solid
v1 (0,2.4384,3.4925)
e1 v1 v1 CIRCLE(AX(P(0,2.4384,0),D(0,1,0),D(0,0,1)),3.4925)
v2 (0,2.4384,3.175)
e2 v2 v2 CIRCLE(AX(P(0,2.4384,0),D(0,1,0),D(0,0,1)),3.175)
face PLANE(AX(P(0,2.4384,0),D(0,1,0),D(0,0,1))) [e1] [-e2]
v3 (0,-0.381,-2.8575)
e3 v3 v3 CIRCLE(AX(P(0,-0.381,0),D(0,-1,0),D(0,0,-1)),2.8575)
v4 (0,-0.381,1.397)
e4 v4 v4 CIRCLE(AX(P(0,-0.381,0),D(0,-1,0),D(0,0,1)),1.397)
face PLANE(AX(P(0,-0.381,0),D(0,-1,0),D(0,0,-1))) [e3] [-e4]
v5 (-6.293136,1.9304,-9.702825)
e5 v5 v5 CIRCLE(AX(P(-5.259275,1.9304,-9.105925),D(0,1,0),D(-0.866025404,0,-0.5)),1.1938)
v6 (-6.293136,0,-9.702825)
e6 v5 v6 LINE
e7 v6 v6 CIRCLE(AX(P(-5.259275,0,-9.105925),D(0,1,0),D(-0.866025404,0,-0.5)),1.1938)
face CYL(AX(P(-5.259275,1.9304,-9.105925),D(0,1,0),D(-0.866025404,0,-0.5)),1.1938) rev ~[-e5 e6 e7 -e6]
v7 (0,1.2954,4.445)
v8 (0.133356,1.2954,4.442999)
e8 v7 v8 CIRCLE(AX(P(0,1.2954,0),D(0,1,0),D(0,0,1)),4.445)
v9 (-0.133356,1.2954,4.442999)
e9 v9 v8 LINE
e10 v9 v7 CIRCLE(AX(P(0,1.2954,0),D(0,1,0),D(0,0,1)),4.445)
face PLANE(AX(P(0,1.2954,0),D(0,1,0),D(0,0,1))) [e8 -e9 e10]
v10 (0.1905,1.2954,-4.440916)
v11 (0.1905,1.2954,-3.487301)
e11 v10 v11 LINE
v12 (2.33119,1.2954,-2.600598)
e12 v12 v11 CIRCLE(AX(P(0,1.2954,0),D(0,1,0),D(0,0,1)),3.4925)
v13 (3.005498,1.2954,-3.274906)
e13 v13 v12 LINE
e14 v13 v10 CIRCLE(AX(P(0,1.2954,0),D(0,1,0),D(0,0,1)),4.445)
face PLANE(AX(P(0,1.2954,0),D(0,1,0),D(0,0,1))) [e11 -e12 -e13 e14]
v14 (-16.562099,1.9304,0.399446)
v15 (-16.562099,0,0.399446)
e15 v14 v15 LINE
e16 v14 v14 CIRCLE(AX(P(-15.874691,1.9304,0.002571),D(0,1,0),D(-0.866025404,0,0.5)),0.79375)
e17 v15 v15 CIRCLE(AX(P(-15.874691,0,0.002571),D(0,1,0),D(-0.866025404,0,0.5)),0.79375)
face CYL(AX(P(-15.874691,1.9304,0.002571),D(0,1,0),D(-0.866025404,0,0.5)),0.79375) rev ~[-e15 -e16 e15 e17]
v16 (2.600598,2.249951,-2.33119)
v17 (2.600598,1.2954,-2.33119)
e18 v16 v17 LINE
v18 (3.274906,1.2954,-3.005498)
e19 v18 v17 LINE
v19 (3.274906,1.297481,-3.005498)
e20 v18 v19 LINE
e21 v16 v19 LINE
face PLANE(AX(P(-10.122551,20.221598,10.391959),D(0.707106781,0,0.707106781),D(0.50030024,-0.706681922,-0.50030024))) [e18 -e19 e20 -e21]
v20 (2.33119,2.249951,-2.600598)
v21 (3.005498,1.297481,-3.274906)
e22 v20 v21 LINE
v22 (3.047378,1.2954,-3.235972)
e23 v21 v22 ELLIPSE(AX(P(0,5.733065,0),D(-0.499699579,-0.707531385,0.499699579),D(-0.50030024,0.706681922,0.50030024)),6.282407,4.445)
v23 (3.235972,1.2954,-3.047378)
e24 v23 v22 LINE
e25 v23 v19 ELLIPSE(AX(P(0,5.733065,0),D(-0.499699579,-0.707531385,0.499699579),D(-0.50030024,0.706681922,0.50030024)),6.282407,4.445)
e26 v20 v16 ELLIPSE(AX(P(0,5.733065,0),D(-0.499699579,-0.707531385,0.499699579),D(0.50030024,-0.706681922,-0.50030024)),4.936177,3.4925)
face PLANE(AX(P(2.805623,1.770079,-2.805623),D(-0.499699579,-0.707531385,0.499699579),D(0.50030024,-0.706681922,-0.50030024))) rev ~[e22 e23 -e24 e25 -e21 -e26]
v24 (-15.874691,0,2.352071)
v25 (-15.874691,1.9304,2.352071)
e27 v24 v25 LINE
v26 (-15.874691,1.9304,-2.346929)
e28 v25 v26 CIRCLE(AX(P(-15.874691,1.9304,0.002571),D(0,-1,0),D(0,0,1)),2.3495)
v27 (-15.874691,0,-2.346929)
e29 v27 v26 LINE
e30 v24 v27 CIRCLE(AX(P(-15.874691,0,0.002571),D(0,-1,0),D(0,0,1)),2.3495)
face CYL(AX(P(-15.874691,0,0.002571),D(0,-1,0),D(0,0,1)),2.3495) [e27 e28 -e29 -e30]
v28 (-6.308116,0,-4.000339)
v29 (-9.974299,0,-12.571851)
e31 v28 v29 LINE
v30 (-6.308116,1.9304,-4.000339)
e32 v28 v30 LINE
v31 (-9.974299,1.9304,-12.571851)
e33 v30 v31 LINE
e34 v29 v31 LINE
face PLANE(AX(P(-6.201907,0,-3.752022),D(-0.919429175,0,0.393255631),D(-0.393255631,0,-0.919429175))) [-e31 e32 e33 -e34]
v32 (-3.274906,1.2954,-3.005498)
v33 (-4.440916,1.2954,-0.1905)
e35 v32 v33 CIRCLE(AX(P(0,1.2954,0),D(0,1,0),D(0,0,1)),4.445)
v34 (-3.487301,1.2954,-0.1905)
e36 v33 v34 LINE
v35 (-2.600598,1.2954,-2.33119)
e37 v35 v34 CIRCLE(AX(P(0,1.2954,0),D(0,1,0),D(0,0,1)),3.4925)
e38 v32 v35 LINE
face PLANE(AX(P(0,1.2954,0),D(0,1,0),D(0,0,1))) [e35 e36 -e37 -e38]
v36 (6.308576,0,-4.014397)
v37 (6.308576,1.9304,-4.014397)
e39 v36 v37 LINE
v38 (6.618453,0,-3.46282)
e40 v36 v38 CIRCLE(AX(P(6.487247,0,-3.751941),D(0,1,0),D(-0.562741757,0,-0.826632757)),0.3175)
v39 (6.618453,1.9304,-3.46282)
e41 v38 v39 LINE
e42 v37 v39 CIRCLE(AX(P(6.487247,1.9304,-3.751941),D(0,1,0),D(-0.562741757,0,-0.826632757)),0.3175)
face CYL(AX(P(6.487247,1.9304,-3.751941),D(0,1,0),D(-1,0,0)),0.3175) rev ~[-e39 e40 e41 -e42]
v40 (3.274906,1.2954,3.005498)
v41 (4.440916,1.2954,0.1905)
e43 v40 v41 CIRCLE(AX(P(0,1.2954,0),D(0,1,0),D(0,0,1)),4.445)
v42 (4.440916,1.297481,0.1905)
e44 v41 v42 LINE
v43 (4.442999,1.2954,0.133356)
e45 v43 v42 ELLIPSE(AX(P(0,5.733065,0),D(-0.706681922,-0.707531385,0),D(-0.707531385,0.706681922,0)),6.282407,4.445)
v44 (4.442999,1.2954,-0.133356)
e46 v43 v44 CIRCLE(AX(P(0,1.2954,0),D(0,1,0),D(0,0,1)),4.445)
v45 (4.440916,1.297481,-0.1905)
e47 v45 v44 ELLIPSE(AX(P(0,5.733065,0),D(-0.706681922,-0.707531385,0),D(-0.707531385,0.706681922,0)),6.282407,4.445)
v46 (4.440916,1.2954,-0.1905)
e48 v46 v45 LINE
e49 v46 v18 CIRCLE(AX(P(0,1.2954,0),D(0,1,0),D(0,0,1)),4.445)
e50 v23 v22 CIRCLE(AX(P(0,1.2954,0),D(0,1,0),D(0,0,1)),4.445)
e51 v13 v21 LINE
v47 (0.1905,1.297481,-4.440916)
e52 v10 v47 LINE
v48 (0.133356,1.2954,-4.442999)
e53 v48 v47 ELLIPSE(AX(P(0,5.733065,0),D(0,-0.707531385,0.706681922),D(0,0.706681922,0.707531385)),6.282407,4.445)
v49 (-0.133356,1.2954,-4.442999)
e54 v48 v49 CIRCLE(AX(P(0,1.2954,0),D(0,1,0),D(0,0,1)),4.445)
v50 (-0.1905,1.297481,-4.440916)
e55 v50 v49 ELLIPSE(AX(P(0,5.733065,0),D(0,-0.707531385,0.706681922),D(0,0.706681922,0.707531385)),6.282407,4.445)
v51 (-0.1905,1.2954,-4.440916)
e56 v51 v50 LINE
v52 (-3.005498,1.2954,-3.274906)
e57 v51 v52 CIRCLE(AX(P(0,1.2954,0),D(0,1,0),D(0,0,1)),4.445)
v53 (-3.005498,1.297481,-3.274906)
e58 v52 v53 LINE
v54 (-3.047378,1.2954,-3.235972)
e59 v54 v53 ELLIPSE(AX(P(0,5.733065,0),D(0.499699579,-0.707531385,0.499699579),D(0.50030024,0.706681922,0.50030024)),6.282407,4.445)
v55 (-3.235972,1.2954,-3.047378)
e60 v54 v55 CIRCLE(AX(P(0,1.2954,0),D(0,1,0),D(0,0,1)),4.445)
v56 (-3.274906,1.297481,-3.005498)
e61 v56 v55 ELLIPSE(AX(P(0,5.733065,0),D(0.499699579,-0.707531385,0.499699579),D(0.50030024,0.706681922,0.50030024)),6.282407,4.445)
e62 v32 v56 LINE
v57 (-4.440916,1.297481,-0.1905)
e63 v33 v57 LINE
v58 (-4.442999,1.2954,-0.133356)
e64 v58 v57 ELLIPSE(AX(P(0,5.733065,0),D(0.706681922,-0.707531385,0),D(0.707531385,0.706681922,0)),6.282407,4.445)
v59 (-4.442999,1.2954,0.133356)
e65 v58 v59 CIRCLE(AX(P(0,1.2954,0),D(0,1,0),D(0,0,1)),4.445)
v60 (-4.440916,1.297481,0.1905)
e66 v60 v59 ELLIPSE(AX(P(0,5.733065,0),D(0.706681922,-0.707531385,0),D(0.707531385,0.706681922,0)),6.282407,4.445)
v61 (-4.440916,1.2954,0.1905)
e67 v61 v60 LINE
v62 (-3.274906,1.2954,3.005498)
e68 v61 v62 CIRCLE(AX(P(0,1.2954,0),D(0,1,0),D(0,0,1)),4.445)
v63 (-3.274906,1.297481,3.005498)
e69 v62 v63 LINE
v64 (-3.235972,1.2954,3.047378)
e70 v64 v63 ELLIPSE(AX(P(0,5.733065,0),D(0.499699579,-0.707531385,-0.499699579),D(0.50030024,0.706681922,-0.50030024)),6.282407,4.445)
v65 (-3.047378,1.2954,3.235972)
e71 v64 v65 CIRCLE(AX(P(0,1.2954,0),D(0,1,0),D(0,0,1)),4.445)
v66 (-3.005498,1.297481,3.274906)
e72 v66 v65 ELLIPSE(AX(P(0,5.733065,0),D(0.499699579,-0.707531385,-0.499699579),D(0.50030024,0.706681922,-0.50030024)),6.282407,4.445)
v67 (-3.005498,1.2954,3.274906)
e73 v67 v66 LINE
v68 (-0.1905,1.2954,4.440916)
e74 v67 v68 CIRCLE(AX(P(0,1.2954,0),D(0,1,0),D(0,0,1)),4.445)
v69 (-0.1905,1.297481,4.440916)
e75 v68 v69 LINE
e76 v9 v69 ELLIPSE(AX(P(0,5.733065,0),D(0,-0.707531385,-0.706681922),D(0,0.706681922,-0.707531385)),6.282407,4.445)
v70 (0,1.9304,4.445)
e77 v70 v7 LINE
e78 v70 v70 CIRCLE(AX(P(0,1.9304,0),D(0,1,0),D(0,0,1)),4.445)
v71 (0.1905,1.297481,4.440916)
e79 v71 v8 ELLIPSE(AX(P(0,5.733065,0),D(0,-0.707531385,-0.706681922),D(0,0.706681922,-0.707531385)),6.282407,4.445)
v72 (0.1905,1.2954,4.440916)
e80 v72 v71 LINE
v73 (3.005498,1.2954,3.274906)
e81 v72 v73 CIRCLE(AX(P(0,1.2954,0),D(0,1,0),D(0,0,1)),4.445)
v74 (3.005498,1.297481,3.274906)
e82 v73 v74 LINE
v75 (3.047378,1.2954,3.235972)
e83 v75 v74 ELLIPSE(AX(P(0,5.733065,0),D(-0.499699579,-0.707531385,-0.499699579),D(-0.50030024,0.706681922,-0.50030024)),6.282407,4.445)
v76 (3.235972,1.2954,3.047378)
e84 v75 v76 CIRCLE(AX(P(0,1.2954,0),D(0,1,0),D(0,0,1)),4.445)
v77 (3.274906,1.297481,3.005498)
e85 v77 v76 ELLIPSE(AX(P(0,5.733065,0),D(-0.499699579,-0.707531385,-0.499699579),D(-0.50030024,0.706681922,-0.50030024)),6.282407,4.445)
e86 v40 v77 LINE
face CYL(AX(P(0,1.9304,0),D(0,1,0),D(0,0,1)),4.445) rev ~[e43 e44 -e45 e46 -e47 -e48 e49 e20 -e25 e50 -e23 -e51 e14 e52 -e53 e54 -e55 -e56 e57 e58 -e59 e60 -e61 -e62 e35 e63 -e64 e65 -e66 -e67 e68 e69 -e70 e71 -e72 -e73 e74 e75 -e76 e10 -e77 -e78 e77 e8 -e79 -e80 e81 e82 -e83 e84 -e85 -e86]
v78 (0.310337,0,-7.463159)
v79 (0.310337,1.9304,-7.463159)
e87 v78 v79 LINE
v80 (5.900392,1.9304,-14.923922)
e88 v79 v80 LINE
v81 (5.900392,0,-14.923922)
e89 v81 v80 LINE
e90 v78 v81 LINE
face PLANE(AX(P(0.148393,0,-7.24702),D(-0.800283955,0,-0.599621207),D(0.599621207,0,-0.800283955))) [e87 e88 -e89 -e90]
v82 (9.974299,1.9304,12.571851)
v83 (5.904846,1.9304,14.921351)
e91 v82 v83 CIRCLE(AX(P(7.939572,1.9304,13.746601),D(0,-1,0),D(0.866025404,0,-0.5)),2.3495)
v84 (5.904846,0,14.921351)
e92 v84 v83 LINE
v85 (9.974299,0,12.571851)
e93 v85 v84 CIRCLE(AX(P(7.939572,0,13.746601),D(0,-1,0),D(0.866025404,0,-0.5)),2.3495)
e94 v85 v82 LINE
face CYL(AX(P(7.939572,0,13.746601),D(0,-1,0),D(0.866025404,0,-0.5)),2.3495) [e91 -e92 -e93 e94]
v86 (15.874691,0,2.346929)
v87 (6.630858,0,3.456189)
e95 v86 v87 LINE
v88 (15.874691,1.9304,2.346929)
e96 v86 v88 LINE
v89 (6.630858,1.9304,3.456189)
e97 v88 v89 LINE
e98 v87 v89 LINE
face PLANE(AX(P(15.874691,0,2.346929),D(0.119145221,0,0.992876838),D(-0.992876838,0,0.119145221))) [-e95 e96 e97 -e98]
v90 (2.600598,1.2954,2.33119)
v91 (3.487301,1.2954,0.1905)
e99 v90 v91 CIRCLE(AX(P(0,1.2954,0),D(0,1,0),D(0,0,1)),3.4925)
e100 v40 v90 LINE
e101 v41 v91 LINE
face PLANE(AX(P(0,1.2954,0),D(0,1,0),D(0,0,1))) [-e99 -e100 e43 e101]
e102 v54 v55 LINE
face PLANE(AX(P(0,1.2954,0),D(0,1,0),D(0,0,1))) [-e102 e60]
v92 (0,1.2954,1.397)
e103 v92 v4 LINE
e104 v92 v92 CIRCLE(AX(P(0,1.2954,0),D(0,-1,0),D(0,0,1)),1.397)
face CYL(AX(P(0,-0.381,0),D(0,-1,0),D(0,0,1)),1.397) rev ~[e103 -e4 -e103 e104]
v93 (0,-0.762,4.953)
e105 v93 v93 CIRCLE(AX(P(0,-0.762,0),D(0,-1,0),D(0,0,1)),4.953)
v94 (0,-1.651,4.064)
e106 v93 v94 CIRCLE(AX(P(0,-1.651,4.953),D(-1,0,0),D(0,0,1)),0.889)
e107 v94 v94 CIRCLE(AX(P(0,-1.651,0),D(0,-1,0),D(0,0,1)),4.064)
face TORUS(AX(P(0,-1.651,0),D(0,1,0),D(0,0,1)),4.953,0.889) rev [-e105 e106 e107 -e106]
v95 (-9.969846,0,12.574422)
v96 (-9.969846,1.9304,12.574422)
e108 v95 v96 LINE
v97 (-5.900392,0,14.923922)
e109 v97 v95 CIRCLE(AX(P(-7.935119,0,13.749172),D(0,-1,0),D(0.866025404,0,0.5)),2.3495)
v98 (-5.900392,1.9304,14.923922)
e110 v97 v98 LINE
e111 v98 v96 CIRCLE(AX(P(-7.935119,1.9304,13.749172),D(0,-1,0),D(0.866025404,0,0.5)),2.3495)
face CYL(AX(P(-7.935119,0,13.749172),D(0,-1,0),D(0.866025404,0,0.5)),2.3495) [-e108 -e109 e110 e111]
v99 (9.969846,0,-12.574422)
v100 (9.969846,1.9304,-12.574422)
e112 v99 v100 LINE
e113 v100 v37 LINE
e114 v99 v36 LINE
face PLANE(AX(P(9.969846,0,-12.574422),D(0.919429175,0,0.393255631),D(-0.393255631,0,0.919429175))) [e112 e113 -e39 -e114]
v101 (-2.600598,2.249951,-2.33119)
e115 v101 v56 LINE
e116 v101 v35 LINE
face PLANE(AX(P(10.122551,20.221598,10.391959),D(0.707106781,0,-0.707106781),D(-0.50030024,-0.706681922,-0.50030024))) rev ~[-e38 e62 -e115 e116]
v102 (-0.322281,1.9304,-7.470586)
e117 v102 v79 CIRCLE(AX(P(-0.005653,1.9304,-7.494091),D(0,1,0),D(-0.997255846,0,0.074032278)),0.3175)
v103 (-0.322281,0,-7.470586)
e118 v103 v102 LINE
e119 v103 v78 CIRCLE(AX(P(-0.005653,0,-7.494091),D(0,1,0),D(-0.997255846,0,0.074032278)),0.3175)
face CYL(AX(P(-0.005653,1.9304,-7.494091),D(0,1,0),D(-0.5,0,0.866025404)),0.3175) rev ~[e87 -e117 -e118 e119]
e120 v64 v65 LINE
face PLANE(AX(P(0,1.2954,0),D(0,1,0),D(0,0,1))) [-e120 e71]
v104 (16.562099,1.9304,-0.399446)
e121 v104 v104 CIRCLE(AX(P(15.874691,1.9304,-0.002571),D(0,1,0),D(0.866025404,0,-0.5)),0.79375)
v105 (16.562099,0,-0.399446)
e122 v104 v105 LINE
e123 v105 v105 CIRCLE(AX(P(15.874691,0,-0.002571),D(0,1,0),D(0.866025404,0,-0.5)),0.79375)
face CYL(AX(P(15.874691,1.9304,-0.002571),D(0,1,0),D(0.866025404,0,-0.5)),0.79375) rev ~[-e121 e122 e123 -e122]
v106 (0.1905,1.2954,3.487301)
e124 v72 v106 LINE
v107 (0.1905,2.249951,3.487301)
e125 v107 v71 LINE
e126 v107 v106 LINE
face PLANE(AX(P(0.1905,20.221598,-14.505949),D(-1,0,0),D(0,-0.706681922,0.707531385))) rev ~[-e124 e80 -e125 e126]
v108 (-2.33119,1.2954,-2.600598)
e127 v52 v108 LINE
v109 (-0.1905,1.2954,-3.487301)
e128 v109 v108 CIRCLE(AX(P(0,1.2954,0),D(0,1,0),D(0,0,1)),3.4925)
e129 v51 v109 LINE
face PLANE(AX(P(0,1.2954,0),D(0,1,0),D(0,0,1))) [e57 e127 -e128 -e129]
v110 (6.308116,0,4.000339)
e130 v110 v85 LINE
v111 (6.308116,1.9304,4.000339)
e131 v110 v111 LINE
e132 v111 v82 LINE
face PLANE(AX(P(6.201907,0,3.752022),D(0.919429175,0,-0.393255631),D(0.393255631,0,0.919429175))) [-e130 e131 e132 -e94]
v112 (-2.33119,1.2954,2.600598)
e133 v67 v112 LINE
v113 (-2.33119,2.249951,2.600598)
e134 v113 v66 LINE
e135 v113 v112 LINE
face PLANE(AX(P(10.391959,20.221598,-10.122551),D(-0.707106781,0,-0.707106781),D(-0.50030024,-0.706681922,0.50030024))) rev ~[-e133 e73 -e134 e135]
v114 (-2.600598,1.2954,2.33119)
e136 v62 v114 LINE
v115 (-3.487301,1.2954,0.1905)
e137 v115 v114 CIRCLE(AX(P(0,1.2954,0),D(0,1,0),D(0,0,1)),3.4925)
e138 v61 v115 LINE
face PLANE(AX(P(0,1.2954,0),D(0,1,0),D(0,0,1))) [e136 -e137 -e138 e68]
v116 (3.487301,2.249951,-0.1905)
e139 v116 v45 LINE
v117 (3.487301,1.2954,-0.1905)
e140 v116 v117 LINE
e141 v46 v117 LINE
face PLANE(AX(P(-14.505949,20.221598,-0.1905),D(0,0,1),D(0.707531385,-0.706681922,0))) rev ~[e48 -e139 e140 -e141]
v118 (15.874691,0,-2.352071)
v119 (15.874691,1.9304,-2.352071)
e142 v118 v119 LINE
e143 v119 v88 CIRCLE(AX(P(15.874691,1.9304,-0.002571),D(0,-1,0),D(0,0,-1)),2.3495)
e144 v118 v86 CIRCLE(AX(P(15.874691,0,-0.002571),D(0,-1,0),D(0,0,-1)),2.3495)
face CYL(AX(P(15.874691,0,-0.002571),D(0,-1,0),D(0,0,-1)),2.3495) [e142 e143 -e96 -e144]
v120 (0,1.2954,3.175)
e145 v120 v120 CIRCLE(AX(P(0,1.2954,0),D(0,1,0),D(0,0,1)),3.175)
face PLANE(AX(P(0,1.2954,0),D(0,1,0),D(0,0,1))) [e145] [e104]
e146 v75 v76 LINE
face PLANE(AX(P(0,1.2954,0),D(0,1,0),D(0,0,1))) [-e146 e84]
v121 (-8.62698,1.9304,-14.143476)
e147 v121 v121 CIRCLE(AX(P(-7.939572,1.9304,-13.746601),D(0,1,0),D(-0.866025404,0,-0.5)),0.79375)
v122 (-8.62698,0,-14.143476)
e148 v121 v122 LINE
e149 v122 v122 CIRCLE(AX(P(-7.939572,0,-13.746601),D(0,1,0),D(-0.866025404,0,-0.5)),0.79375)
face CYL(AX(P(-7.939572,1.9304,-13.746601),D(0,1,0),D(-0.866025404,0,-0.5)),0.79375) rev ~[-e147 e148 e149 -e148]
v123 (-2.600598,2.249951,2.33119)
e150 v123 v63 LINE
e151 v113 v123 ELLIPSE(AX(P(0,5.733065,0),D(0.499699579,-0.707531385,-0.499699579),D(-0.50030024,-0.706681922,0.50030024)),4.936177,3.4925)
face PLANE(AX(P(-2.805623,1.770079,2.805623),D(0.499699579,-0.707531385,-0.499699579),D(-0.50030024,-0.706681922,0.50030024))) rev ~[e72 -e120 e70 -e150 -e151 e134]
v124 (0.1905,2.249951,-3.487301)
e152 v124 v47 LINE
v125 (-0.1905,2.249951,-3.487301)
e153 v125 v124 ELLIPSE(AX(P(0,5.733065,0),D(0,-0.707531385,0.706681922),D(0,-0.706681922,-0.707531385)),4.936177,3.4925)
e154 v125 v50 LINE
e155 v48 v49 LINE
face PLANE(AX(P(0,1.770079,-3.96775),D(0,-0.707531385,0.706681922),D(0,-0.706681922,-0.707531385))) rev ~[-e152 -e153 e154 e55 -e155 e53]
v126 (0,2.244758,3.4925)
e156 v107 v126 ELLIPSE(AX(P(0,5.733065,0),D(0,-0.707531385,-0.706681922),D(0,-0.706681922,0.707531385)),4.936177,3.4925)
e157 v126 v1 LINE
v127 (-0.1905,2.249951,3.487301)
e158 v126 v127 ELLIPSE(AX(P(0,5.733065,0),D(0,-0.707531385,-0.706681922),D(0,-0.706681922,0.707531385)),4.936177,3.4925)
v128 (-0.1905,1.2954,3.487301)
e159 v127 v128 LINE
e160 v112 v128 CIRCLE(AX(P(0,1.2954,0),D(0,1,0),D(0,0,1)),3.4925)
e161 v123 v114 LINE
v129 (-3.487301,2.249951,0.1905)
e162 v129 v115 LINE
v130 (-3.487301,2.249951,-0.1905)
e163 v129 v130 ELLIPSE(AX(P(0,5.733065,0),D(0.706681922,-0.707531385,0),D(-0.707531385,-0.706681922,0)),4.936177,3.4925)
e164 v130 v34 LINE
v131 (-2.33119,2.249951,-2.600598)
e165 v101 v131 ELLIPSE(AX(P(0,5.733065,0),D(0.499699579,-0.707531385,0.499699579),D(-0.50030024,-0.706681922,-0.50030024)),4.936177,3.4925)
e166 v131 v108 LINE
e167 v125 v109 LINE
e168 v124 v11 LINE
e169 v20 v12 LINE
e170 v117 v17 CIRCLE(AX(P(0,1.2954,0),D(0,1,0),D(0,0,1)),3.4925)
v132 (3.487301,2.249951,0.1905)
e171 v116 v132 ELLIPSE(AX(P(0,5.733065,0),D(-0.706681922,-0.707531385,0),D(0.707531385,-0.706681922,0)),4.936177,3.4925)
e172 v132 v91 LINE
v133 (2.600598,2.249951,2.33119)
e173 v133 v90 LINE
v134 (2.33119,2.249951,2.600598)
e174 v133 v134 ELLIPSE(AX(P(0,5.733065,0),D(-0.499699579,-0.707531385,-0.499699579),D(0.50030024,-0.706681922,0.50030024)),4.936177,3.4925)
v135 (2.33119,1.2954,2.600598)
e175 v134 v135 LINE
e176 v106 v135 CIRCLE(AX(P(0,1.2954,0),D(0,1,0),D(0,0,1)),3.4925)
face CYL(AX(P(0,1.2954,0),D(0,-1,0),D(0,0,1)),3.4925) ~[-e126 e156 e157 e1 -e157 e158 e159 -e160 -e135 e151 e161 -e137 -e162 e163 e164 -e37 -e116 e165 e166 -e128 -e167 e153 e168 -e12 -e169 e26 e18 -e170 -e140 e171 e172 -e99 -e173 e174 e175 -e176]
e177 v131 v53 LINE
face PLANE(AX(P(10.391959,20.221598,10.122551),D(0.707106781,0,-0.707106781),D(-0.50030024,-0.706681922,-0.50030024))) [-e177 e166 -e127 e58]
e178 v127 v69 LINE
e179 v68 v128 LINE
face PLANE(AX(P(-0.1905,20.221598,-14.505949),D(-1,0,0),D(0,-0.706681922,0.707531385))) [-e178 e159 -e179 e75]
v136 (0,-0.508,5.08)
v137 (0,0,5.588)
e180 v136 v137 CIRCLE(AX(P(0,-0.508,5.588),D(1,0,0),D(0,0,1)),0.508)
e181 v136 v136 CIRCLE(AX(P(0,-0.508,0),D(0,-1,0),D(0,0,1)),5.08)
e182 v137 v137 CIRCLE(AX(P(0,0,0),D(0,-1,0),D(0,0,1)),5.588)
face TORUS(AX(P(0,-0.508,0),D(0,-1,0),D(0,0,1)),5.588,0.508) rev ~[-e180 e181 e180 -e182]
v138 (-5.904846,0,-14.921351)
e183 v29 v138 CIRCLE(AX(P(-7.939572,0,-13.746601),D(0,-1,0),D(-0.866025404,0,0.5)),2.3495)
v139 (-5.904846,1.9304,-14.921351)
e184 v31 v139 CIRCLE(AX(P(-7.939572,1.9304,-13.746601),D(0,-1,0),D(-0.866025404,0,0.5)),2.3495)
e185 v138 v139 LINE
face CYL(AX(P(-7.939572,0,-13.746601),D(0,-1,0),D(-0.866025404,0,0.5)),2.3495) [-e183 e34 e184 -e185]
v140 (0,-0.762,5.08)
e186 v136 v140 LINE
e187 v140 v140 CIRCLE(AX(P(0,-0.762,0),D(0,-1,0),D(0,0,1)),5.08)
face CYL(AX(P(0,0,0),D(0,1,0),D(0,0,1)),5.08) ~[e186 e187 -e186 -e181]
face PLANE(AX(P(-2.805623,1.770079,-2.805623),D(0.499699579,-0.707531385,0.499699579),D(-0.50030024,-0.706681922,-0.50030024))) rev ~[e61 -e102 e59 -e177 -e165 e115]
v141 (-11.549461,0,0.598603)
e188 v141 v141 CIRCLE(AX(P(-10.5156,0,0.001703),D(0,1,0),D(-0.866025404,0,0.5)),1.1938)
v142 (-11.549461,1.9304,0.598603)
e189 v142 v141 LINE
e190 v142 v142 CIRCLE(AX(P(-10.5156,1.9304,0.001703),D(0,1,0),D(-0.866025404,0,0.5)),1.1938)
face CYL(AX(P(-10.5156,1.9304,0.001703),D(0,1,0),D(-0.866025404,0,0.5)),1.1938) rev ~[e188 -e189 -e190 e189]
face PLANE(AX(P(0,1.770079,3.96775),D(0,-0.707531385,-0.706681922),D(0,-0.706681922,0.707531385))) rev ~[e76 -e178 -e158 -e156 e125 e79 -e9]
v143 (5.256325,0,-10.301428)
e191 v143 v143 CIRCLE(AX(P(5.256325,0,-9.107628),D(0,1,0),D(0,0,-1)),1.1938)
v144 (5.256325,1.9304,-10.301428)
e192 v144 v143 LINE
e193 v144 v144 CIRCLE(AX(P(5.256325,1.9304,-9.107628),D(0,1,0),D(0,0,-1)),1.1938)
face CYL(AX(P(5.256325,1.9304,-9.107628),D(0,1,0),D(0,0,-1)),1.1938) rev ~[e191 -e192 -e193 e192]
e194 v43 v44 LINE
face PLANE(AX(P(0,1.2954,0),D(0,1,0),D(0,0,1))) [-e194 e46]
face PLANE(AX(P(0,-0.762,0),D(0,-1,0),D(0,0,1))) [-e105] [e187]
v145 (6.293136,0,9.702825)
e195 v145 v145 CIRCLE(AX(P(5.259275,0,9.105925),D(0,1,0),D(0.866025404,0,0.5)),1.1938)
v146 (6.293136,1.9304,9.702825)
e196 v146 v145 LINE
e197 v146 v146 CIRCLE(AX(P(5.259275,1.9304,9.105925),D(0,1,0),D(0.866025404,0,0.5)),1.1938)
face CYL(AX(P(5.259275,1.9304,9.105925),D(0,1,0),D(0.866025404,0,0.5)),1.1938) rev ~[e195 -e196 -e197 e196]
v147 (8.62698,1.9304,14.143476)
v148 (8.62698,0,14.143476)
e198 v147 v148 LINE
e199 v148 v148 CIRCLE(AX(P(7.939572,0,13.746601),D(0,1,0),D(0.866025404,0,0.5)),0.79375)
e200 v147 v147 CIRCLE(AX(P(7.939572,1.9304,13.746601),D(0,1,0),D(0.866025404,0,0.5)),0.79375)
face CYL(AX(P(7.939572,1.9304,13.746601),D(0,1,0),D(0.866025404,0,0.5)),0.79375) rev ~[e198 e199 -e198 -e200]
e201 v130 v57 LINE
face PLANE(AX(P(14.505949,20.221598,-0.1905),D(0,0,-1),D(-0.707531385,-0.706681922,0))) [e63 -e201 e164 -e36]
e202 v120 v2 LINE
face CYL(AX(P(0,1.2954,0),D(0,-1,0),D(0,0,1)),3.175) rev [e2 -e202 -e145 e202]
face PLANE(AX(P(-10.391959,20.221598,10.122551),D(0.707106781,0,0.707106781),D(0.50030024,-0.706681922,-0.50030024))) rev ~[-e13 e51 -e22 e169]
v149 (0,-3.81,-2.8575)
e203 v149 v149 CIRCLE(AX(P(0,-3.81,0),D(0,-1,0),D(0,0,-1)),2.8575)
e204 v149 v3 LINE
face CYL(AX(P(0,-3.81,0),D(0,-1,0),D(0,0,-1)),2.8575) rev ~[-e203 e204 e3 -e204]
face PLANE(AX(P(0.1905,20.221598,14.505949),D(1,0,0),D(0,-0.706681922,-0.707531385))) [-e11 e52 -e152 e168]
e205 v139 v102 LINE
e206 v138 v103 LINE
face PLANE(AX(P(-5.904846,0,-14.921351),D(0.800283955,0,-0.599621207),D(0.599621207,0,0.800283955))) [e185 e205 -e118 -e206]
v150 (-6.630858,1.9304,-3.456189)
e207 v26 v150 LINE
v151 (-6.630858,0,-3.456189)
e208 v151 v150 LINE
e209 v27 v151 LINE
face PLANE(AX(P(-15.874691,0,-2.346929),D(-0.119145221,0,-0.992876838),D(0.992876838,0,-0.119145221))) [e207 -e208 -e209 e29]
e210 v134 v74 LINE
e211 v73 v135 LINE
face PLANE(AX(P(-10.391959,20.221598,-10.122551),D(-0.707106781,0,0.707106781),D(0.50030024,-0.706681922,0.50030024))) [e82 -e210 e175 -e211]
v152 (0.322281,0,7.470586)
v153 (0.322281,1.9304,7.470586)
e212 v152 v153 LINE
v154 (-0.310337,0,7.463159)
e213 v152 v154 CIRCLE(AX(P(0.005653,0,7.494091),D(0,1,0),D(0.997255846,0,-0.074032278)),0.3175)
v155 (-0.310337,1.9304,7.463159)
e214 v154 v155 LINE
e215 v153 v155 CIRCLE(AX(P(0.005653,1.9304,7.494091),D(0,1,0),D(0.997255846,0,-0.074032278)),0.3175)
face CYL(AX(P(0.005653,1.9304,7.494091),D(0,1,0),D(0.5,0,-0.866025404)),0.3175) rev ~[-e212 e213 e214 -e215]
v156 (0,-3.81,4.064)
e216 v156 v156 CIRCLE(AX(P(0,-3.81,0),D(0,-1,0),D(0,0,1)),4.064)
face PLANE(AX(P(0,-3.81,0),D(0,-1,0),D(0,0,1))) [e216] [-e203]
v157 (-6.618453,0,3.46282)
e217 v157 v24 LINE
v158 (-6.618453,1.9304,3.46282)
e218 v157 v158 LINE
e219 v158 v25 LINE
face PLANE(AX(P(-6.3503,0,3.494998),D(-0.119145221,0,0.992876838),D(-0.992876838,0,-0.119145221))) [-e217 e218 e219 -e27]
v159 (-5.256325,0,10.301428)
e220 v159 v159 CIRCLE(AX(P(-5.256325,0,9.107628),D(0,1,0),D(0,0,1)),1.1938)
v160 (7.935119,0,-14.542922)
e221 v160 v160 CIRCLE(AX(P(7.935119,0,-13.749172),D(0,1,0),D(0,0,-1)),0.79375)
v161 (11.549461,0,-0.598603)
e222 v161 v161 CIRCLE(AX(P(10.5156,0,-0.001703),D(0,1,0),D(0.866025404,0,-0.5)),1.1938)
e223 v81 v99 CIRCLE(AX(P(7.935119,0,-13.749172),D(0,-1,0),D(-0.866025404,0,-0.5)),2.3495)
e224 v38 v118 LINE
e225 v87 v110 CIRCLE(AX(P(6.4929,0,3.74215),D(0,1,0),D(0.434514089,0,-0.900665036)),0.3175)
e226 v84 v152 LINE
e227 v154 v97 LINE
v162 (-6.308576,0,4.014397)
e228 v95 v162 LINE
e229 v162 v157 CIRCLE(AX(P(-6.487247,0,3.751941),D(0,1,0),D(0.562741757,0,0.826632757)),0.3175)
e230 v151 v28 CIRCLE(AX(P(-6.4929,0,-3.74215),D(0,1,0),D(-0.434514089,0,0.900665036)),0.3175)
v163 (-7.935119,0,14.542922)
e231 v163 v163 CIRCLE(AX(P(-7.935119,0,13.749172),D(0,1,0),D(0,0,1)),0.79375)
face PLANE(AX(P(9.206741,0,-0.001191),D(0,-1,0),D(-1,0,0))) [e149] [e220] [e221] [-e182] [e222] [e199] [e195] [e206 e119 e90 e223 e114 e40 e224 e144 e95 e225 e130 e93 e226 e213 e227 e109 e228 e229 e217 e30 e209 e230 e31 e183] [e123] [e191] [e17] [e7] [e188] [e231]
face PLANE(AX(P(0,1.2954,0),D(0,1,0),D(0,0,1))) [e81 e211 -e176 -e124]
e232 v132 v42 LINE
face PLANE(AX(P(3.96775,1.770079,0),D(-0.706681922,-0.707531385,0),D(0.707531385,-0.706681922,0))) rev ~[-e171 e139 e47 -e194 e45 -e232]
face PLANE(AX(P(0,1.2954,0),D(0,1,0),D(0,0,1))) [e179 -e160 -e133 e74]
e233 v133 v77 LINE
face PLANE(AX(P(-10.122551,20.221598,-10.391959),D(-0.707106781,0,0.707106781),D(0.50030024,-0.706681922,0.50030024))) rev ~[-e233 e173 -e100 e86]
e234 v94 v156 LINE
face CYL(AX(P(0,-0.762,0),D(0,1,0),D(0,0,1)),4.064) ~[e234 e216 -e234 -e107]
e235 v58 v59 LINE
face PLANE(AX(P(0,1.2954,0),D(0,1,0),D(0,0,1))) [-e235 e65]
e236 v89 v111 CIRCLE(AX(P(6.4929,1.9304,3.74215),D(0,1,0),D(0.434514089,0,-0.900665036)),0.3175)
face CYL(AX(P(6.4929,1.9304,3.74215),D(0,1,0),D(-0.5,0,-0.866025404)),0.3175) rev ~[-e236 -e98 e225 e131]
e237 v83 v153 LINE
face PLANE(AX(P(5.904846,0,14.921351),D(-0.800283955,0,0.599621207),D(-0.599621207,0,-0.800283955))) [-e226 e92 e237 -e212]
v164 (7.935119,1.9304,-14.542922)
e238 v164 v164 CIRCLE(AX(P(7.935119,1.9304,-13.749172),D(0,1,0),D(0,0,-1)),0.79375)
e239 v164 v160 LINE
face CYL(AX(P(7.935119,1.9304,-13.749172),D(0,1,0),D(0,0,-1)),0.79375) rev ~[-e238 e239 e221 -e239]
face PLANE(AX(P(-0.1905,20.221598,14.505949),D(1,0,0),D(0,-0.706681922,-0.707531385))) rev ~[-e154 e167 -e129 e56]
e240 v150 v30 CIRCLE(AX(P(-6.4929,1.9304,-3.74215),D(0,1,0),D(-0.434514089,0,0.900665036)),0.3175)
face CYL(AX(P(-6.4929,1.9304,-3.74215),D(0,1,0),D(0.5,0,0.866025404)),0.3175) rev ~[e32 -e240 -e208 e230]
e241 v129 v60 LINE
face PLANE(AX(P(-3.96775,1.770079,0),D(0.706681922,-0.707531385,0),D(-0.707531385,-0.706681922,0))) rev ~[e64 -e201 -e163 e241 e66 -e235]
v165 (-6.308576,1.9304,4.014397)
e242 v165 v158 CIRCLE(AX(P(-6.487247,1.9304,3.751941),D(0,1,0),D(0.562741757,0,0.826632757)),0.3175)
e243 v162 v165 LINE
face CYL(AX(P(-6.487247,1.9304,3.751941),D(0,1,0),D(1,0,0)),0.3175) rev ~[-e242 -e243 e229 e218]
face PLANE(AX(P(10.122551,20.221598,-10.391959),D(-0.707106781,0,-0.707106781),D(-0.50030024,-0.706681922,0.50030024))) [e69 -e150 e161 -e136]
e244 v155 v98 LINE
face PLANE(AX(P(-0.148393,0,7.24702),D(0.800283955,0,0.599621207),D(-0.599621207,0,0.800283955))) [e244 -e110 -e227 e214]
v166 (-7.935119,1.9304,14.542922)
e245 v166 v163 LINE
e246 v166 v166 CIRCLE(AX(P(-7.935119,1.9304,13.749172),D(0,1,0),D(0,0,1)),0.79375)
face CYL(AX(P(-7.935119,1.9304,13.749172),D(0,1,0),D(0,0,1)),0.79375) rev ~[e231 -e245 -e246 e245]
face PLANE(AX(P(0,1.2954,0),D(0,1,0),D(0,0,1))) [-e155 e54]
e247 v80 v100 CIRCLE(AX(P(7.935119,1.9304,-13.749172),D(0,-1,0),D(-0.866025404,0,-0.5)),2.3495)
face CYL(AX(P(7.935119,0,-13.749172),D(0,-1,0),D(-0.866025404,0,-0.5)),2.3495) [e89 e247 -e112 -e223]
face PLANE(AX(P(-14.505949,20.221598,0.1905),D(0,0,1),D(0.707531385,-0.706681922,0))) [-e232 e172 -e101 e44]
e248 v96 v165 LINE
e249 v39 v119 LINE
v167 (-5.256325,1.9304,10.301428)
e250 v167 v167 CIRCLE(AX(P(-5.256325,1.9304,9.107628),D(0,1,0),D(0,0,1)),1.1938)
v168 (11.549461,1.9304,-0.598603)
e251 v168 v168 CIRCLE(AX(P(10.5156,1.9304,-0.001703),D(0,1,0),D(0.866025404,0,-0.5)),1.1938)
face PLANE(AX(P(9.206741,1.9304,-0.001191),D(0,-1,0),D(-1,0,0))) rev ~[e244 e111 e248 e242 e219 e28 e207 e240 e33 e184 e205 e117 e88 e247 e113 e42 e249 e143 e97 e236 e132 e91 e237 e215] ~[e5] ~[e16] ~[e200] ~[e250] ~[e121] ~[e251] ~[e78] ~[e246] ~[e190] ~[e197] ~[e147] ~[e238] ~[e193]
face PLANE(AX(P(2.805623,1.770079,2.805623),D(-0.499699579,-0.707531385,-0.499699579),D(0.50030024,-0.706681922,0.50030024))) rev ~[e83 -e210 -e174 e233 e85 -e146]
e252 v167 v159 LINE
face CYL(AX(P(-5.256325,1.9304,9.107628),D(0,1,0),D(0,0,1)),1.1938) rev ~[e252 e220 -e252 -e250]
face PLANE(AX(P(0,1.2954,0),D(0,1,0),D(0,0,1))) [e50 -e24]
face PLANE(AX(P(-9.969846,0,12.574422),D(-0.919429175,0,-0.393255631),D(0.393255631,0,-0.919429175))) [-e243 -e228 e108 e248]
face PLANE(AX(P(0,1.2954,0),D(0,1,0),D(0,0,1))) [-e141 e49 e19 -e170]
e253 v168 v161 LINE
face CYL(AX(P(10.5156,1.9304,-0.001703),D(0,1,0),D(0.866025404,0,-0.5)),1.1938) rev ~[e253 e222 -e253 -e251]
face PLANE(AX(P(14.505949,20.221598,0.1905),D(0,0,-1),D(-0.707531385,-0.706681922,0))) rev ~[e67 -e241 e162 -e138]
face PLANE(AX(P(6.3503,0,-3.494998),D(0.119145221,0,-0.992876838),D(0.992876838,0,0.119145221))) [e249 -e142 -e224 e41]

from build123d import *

# Parameters (mm, degrees)
EXTRUDE4_DEPTH          = 1.9304
SKETCH2_R               = 0.6604
CUT_EXTRUDE1_DEPTH      = 19.722050478
CIRPATTERN4_COUNT       = 6
CUT_EXTRUDE2_DEPTH      = 12.7
CUT_EXTRUDE2_DEPTH_BACK = 12.7
SKETCH3_R               = 1.397
SKETCH4_R               = 4.445
CUT_EXTRUDE3_DEPTH      = 0.635
SKETCH5_R               = 3.4925
SKETCH5_R_2             = 3.175
EXTRUDE5_DEPTH          = 1.143
RIB10_REACH             = 26.438
SKETCH8_WALL_W          = 52.220152264
SKETCH8_WALL_H          = 0.381
CIRPATTERN5_COUNT       = 8
SKETCH9_R               = 0.79375
SKETCH9_R_2             = 1.1938
CUT_EXTRUDE4_DEPTH      = 25.392925761
CIRPATTERN6_COUNT       = 6
SKETCH10_R              = 5.08
EXTRUDE6_DEPTH          = 0.762
FILLET2_R               = 0.508
SKETCH11_R              = 4.064
EXTRUDE7_DEPTH          = 3.048
FILLET3_R               = 0.889
SKETCH12_R              = 2.8575
CUT_EXTRUDE5_DEPTH      = 3.429
SKETCH14_R              = 1.397
CUT_EXTRUDE6_DEPTH      = 25.557003564
SKETCH15_R              = 0.3175
CUT_EXTRUDE7_DEPTH      = 25.984806887
CIRPATTERN7_COUNT       = 6


with BuildPart() as part:
    # Sketch1 → Extrude4 (new body)
    with BuildSketch(Plane(origin=(0, 0, 0), x_dir=(1, 0, 0), z_dir=(0, 1, 0))):
        with BuildLine():
            Line((5.775220615, -3.829827046), (0, 0))
            Line((0, 0), (5.775220615, 3.829827046))
            Line((5.775220615, 3.829827046), (6.35029977, 3.829827046))
            Line((6.35029977, 3.829827046), (6.35029977, 3.494998084))
            Line((6.35029977, 3.494998084), (15.87469147, 2.35207108))
            ThreePointArc((15.87469147, 2.35207108), (18.22419147, 0.00257108), (15.87469147, -2.34692892))
            Line((15.87469147, -2.34692892), (6.34969147, -3.48992892))
            Line((6.34969147, -3.48992892), (6.34969147, -3.829827046))
            Line((6.34969147, -3.829827046), (5.775220615, -3.829827046))
        make_face()
    extrude4 = extrude(amount=EXTRUDE4_DEPTH)

    # Sketch2 → Cut-Extrude1 (cut, through all)
    with BuildSketch(Plane(origin=(0, 1.9304, 0), x_dir=(-1, 0, 0), z_dir=(0, 1, 0))):
        with Locations((-6.342552501, -4.149920748)):
            Circle(SKETCH2_R)
        with Locations((-6.342552501, 4.149920748)):
            Circle(SKETCH2_R)
    extrude(amount=-CUT_EXTRUDE1_DEPTH, mode=Mode.SUBTRACT)

    # CirPattern4: Extrude4 ×6 about axis
    cirpattern4_axis = Axis((0, 0, 0), (0, 1, 0))
    for i in range(1, CIRPATTERN4_COUNT):
        add(extrude4.rotate(cirpattern4_axis, i * 360 / CIRPATTERN4_COUNT))

    # Sketch3 → Cut-Extrude2 (cut, two sides: drawn at the far end of the back side and taken through both)
    with BuildSketch(Plane(origin=(0, 1.9304, 0), x_dir=(-1, 0, 0), z_dir=(0, 1, 0)).offset(-CUT_EXTRUDE2_DEPTH_BACK)):
        Circle(SKETCH3_R)
    extrude(amount=CUT_EXTRUDE2_DEPTH + CUT_EXTRUDE2_DEPTH_BACK, mode=Mode.SUBTRACT)

    # Sketch4 → Cut-Extrude3 (cut)
    with BuildSketch(Plane(origin=(0, 1.9304, 0), x_dir=(-1, 0, 0), z_dir=(0, 1, 0))):
        Circle(SKETCH4_R)
    extrude(amount=-CUT_EXTRUDE3_DEPTH, mode=Mode.SUBTRACT)

    # Sketch5 → Extrude5 (add)
    with BuildSketch(Plane(origin=(0, 1.2954, 0), x_dir=(-1, 0, 0), z_dir=(0, 1, 0))):
        Circle(SKETCH5_R)
        Circle(SKETCH5_R_2, mode=Mode.SUBTRACT)
    extrude(amount=EXTRUDE5_DEPTH)

    # Sketch8 wall → Rib10 (add, up to next)
    with BuildSketch(Plane(origin=(-3.967749561, 1.770078976, 0), x_dir=(-0.70753138537, -0.706681921883, 0), z_dir=(0.706681921883, -0.70753138537, 0)), mode=Mode.PRIVATE) as rib10_sk1:
        Rectangle(SKETCH8_WALL_W, SKETCH8_WALL_H)
    rib10_tool1 = extrude(rib10_sk1.sketch, amount=RIB10_REACH, mode=Mode.PRIVATE) - part.part
    rib10 = rib10_tool1.solids().sort_by_distance((-3.967749561, 1.770078976, 0))[0]
    add(rib10)

    # CirPattern5: Rib10 ×8 about axis
    cirpattern5_axis = Axis((0, 0, 0), (0, 1, 0))
    for i in range(1, CIRPATTERN5_COUNT):
        add(rib10.rotate(cirpattern5_axis, i * 360 / CIRPATTERN5_COUNT))

    # Sketch9 → Cut-Extrude4 (cut, through all)
    with BuildSketch(Plane(origin=(0, 1.9304, 0), x_dir=(-1, 0, 0), z_dir=(0, 1, 0))):
        with Locations((7.935119114, 13.749171631)):
            Circle(SKETCH9_R)
        with Locations((5.256324989, 9.107628175)):
            Circle(SKETCH9_R_2)
    cut_extrude4 = extrude(amount=-CUT_EXTRUDE4_DEPTH, mode=Mode.SUBTRACT)

    # CirPattern6: Cut-Extrude4 ×6 about axis
    cirpattern6_axis = Axis((0, 0, 0), (0, 1, 0))
    for i in range(1, CIRPATTERN6_COUNT):
        add(cut_extrude4.rotate(cirpattern6_axis, i * 360 / CIRPATTERN6_COUNT), mode=Mode.SUBTRACT)

    # Sketch10 → Extrude6 (add)
    with BuildSketch(Plane.XZ):
        Circle(SKETCH10_R)
    extrude(amount=EXTRUDE6_DEPTH)

    # Fillet2
    fillet2_edges = [part.edges().sort_by_distance(p)[0] for p in [
        (-5.08, 0, 0),
    ]]
    fillet(fillet2_edges, radius=FILLET2_R)

    # Sketch11 → Extrude7 (add)
    with BuildSketch(Plane.XZ.offset(0.762)):
        Circle(SKETCH11_R)
    extrude(amount=EXTRUDE7_DEPTH)

    # Fillet3
    fillet3_edges = [part.edges().sort_by_distance(p)[0] for p in [
        (-4.064, -0.762, 0),
    ]]
    fillet(fillet3_edges, radius=FILLET3_R)

    # Sketch12 → Cut-Extrude5 (cut)
    with BuildSketch(Plane.XZ.offset(3.81)):
        Circle(SKETCH12_R)
    extrude(amount=-CUT_EXTRUDE5_DEPTH, mode=Mode.SUBTRACT)

    # Sketch14 → Cut-Extrude6 (cut, through all)
    with BuildSketch(Plane.XZ.offset(0.381)):
        Circle(SKETCH14_R)
    extrude(amount=-CUT_EXTRUDE6_DEPTH, mode=Mode.SUBTRACT)

    # Sketch15 → Cut-Extrude7 (cut, symmetric)
    with BuildSketch(Plane(origin=(0, 1.9304, 0), x_dir=(-1, 0, 0), z_dir=(0, 1, 0))):
        with Locations((-6.48724684, -3.751940905)):
            Circle(SKETCH15_R)
    cut_extrude7 = extrude(amount=CUT_EXTRUDE7_DEPTH, both=True, mode=Mode.SUBTRACT)

    # CirPattern7: Cut-Extrude7 ×6 about axis
    cirpattern7_axis = Axis((0, 0, 0), (0, 1, 0))
    for i in range(1, CIRPATTERN7_COUNT):
        add(cut_extrude7.rotate(cirpattern7_axis, i * 360 / CIRPATTERN7_COUNT), mode=Mode.SUBTRACT)


solid = part.part
